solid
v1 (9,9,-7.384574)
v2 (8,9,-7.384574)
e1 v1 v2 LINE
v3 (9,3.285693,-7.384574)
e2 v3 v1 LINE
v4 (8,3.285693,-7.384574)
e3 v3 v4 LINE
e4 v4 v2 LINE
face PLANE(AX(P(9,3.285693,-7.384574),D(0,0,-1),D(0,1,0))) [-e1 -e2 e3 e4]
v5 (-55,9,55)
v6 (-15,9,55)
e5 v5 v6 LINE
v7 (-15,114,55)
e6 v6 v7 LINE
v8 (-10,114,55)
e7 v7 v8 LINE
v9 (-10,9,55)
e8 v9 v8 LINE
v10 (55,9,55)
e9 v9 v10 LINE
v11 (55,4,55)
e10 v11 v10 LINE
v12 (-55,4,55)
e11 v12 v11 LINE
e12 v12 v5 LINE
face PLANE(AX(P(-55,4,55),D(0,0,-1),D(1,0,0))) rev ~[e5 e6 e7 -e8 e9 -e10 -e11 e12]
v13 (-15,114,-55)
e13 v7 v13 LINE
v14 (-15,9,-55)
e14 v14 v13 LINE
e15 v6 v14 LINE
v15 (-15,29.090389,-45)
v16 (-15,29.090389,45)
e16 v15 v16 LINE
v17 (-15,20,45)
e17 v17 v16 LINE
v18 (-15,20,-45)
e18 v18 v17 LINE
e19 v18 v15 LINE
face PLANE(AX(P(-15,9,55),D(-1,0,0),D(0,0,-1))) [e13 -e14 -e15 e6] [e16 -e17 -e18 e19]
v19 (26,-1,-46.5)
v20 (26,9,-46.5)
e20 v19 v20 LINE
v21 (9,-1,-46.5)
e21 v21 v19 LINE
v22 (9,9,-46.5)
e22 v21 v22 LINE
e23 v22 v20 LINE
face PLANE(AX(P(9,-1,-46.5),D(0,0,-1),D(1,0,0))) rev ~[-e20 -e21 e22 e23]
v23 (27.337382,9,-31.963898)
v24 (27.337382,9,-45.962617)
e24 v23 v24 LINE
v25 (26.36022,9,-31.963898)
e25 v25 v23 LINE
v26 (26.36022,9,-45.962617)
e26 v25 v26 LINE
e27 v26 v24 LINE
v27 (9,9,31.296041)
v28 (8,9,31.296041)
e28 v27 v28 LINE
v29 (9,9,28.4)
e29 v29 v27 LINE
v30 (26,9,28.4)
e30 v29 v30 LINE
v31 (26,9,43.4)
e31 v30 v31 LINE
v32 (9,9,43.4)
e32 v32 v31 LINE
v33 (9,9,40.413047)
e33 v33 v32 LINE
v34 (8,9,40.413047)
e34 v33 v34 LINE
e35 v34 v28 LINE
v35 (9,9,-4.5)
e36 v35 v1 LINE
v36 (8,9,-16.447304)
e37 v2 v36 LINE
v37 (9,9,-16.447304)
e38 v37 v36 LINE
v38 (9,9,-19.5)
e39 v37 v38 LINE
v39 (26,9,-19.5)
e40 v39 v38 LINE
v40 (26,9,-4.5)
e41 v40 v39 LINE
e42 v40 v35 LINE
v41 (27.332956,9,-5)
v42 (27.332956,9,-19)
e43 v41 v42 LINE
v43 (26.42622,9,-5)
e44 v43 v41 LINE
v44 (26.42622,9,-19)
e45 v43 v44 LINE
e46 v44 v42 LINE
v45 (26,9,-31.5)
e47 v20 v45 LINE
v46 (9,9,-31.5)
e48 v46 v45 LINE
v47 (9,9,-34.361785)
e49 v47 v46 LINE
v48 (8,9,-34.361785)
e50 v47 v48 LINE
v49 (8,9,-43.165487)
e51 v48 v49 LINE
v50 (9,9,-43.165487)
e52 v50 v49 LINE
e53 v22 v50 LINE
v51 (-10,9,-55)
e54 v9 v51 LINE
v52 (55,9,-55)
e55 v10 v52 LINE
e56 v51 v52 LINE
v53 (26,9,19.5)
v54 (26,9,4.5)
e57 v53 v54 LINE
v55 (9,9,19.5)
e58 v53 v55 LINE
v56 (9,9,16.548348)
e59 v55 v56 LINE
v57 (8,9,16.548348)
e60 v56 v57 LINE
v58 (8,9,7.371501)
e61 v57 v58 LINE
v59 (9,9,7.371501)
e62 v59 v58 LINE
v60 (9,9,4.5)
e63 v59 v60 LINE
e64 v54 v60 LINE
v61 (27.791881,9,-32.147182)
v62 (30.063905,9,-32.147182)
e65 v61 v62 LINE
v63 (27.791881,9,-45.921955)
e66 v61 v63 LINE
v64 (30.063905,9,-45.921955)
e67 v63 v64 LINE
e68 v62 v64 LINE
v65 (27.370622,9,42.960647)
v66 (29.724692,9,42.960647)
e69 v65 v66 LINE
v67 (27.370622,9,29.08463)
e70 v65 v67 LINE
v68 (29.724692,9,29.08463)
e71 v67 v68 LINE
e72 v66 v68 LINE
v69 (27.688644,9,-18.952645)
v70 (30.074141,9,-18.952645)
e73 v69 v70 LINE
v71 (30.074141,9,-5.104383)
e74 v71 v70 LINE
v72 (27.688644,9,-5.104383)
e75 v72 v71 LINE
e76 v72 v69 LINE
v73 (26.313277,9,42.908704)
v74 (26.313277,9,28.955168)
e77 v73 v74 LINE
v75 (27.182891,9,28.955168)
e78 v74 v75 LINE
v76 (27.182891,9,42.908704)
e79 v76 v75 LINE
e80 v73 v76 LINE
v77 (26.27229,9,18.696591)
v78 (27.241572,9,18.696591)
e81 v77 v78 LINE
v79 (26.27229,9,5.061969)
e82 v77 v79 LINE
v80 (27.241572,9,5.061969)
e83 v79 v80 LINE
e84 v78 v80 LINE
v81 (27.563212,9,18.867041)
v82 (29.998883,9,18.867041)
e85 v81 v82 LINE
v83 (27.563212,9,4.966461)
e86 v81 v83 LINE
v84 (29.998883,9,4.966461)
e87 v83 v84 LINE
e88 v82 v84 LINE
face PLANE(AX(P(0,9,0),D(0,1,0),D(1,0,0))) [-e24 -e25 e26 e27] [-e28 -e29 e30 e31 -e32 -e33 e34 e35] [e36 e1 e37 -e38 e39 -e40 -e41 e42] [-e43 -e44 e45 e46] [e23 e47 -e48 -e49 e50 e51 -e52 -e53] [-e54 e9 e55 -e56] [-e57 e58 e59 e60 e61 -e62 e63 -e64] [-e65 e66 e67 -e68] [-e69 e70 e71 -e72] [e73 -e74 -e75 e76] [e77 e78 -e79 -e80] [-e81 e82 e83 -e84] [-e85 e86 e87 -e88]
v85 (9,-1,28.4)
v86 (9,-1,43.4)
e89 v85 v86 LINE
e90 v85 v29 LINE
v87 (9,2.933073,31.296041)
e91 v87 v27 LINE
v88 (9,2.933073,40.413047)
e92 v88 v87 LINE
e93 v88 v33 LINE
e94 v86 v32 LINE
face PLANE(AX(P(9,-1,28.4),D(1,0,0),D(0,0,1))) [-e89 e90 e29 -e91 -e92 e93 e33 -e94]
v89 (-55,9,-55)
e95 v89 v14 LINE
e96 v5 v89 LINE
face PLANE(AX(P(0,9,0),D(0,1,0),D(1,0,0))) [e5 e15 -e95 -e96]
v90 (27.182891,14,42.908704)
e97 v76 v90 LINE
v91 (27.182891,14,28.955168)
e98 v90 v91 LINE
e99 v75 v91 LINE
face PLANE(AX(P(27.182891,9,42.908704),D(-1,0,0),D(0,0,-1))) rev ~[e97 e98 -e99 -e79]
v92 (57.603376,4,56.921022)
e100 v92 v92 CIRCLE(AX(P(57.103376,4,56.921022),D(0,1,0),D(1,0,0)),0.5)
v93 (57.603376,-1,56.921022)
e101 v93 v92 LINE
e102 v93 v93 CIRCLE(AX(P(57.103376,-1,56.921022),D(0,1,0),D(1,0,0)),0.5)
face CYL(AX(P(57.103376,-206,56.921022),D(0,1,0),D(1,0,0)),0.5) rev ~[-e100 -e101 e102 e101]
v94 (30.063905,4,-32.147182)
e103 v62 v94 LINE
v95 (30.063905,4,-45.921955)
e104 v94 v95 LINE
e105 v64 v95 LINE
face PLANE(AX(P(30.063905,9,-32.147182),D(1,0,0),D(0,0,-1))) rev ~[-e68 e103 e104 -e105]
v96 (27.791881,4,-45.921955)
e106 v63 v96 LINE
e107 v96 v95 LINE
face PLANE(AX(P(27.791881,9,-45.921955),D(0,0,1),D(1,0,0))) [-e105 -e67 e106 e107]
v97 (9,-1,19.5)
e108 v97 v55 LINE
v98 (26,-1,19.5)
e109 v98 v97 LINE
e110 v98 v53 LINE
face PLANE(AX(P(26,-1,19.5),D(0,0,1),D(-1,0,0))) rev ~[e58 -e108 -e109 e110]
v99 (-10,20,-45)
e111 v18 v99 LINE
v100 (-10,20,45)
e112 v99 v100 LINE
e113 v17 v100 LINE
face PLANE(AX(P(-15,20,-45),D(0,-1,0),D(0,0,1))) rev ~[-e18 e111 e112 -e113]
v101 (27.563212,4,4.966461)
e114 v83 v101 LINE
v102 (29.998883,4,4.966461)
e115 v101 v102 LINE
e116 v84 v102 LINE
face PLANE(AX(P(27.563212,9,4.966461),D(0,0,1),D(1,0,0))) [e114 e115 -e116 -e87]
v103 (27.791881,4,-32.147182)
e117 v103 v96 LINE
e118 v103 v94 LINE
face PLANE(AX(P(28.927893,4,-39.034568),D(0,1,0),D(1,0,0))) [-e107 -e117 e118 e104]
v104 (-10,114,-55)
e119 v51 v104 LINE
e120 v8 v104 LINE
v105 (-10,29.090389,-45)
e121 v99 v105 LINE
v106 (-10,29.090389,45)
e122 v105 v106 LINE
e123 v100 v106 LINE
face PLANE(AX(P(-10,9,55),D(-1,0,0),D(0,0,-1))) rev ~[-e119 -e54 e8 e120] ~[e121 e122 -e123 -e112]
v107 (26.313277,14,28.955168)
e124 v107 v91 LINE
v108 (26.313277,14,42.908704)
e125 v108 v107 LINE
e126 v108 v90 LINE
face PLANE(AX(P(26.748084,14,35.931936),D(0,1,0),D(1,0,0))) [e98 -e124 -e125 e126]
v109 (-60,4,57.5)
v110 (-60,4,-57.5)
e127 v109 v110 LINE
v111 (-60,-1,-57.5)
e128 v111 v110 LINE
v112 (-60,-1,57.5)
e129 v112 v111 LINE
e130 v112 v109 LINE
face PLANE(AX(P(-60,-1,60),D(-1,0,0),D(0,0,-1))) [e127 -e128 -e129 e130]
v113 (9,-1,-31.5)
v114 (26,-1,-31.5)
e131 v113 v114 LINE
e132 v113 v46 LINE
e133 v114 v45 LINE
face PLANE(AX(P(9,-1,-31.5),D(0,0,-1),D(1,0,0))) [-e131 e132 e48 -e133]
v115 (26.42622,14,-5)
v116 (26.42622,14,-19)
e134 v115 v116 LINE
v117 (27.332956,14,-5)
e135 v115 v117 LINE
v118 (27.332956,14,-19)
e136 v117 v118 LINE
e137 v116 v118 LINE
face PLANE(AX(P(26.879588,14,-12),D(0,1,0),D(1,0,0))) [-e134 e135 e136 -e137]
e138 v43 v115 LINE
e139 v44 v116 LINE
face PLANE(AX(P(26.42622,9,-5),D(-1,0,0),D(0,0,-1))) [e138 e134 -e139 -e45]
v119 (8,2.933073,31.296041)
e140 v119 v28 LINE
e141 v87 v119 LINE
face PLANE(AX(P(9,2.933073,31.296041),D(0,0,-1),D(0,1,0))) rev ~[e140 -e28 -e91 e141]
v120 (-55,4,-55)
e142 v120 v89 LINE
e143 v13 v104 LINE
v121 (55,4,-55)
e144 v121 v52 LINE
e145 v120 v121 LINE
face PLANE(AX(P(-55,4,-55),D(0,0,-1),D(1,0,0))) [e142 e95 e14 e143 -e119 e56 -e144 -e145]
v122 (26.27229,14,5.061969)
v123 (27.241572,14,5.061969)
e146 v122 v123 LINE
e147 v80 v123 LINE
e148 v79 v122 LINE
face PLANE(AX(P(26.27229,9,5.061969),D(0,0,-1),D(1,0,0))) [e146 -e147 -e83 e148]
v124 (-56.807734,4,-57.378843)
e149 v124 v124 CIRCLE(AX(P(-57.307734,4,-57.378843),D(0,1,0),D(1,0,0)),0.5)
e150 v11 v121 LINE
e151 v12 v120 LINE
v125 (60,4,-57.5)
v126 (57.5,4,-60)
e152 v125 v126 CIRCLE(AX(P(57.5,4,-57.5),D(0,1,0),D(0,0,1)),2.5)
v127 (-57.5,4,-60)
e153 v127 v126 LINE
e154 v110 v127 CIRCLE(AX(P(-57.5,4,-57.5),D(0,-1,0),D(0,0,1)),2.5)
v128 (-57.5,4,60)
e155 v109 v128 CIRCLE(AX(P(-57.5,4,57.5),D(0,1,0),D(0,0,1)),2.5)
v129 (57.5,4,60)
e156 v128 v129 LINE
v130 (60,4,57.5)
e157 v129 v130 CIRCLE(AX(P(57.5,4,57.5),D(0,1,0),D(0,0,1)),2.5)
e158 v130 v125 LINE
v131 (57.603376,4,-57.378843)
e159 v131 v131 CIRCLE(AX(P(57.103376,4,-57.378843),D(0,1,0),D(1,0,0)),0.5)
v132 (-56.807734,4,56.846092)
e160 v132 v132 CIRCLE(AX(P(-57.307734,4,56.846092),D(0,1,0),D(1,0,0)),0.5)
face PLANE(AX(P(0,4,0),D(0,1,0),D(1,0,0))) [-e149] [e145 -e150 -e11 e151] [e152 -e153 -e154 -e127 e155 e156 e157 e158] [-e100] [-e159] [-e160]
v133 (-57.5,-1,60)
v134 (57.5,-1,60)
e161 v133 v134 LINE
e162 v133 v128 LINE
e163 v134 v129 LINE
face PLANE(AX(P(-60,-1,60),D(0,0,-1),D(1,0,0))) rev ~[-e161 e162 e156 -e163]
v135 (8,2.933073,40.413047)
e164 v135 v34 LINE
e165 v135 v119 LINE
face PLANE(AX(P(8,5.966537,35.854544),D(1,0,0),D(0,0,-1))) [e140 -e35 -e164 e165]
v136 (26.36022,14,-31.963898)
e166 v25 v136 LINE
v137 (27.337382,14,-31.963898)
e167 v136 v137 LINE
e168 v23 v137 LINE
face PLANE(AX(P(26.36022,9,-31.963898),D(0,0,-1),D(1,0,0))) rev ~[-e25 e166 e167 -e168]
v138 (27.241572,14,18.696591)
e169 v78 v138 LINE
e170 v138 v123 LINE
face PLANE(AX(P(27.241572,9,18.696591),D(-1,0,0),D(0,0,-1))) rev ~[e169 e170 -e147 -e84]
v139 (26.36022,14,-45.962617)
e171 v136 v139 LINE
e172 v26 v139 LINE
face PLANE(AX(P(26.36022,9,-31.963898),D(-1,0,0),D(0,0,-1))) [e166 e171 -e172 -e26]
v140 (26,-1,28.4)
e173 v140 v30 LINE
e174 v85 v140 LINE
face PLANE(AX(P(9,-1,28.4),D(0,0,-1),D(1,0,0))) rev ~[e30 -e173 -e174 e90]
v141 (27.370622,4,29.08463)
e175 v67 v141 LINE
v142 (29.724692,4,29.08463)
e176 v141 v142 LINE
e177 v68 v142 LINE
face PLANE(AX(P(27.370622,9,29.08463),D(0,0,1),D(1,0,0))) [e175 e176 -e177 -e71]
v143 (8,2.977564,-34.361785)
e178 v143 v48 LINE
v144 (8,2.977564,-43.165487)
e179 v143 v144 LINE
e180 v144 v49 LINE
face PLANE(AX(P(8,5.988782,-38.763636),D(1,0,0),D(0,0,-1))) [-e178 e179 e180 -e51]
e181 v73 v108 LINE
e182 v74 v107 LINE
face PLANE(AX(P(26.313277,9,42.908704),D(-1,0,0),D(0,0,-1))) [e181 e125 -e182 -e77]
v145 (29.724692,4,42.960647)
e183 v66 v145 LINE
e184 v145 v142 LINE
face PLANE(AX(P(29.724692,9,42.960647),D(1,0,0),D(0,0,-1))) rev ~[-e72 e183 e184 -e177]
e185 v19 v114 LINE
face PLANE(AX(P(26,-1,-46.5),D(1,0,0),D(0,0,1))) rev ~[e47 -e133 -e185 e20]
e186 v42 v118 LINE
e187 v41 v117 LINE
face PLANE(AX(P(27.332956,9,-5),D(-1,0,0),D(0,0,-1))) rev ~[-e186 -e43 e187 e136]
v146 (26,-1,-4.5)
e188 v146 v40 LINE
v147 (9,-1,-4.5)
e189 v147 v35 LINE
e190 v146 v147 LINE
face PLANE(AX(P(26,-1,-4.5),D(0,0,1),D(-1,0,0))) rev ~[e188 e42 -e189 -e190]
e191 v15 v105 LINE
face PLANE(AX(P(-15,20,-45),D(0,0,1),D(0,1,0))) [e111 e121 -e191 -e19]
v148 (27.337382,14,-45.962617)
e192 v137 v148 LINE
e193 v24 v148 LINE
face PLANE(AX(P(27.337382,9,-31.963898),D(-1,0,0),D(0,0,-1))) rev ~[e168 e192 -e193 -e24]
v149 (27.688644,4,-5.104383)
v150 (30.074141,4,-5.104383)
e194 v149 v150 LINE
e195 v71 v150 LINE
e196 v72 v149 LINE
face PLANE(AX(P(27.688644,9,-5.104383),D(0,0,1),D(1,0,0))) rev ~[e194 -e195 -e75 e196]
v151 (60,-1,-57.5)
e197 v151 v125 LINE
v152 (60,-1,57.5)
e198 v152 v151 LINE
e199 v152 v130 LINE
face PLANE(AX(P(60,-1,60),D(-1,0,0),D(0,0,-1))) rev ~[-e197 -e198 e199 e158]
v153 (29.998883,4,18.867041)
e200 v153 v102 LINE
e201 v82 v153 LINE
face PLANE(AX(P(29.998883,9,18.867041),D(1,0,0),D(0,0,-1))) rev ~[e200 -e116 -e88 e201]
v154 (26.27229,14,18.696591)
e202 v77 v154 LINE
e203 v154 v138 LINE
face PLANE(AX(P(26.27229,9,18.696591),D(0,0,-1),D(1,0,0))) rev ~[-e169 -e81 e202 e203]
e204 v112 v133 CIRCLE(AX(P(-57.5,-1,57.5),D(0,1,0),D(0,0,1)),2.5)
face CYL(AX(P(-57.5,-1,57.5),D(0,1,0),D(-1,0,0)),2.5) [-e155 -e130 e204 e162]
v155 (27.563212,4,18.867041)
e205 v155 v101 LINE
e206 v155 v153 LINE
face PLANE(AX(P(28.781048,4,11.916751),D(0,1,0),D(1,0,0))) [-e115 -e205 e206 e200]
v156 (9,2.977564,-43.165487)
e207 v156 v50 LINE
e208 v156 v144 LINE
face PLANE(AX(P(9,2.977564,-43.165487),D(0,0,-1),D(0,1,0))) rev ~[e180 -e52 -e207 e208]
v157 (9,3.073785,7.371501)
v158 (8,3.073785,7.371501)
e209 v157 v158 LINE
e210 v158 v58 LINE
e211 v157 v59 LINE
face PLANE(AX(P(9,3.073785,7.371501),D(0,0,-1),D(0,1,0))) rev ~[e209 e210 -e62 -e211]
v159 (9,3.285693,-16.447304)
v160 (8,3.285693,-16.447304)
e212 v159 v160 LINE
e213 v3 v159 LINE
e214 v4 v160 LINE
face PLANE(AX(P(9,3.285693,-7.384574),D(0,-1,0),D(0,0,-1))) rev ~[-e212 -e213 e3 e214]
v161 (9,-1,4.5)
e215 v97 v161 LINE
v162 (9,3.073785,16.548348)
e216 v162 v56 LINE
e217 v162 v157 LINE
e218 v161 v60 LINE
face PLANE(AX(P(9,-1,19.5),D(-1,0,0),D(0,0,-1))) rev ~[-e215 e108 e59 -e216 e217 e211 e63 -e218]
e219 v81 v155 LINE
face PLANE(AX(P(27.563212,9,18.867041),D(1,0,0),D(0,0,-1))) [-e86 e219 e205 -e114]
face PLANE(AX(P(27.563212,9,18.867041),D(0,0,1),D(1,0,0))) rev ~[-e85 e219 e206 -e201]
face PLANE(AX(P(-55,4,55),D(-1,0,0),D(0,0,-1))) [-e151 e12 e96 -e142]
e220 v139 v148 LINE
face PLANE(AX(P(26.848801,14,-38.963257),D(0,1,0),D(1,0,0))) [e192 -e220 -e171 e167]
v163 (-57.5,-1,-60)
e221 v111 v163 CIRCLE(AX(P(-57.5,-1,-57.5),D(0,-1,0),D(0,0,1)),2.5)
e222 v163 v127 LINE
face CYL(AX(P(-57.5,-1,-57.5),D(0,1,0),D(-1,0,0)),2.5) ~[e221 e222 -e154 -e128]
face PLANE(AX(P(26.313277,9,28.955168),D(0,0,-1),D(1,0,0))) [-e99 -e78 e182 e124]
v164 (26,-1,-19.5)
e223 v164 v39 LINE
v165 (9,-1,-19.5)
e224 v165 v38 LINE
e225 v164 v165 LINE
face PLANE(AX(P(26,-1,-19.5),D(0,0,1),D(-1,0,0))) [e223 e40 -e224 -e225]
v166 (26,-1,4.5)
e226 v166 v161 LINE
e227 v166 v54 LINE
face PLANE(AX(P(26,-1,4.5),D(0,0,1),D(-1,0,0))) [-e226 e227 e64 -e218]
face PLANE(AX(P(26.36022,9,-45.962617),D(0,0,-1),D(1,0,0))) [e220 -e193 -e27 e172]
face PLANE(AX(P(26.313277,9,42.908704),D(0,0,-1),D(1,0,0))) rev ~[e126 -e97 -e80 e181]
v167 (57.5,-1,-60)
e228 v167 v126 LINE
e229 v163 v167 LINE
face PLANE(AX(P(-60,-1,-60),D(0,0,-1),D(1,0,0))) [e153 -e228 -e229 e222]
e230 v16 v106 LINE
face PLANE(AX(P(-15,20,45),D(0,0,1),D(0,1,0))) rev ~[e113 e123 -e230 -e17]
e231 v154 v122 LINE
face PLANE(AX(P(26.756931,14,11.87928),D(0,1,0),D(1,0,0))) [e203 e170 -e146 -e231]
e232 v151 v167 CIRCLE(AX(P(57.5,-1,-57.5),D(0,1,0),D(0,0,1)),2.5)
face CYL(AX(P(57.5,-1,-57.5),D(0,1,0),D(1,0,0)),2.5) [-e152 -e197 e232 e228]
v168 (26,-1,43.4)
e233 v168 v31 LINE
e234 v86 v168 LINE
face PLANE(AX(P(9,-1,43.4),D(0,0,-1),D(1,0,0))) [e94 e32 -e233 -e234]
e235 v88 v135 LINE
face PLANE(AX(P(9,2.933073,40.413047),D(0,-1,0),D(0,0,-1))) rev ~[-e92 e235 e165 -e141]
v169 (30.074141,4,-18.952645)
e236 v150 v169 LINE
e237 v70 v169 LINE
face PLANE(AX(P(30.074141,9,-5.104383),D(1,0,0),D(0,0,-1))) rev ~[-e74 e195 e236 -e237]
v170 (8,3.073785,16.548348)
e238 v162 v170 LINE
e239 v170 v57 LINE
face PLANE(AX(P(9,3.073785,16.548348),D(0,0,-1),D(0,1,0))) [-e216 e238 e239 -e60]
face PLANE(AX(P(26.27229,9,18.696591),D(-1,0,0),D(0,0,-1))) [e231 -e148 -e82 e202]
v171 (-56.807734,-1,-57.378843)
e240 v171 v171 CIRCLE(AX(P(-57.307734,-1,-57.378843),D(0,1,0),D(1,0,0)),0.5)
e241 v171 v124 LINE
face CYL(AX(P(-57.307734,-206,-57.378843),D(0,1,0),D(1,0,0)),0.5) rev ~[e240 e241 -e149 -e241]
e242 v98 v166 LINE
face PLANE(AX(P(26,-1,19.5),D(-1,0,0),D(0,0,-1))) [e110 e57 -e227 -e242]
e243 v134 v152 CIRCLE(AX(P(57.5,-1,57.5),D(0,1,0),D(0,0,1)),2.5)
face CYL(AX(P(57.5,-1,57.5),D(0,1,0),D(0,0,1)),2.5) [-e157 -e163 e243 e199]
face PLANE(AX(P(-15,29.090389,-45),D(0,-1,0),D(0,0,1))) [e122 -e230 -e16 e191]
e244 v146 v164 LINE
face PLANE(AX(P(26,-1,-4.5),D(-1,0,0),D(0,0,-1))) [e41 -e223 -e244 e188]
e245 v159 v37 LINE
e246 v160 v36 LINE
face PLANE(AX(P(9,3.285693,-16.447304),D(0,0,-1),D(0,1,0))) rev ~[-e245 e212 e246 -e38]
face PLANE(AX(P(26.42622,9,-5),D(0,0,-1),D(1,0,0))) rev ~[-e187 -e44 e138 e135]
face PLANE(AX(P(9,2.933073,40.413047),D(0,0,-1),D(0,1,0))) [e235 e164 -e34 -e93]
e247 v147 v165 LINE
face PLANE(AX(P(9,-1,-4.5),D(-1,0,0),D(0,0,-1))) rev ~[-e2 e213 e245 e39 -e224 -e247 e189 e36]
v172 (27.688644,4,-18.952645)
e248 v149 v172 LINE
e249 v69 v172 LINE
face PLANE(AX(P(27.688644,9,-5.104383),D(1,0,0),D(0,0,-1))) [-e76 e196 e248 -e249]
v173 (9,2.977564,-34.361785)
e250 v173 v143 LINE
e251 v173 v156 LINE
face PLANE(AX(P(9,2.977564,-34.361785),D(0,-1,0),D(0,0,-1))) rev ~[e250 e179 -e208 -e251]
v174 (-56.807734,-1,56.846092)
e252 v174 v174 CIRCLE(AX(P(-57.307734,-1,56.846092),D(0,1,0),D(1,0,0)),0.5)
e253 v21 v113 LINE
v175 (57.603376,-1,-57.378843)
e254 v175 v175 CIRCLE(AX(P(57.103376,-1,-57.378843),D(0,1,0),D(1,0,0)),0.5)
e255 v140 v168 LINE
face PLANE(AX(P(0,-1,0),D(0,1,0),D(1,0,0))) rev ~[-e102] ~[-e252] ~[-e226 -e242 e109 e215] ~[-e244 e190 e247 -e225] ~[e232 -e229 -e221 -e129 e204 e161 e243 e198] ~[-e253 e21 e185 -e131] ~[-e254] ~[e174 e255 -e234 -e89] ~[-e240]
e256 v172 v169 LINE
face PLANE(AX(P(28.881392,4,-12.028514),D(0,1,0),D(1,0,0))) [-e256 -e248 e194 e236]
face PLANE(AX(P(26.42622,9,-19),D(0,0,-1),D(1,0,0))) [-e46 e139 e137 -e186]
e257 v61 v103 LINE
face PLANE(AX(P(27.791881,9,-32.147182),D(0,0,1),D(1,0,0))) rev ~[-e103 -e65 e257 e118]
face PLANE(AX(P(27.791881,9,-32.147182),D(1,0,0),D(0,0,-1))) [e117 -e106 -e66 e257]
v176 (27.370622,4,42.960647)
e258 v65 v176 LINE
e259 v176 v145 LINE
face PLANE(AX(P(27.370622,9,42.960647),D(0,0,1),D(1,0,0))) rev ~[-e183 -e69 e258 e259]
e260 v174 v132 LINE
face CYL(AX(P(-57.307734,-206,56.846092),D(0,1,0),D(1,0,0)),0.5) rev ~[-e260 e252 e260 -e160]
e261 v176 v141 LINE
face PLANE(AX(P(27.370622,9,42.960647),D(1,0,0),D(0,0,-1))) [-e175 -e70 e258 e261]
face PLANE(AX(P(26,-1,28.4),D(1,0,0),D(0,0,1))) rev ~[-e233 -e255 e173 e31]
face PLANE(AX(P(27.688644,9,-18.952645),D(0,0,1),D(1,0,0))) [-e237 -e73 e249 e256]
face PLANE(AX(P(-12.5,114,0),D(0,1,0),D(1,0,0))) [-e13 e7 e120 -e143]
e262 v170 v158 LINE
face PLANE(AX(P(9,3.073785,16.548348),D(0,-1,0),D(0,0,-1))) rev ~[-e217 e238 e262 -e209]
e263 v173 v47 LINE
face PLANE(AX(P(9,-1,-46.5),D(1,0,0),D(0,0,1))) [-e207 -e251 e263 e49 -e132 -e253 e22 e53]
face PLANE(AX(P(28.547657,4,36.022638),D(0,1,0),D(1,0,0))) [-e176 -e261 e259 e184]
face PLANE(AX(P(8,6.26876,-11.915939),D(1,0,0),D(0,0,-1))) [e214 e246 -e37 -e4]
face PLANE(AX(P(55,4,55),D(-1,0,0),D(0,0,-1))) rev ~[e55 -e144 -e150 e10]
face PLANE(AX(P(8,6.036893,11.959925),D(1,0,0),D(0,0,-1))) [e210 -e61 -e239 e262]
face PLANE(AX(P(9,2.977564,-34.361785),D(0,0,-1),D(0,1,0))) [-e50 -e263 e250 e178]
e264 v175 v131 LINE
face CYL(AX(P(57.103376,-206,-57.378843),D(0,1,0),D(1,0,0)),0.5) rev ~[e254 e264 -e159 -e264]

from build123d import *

# Parameters (mm, degrees)
BOSS_EXTRUDE1_DEPTH          = 4
BOSS_EXTRUDE1_DEPTH_BACK     = 1
SKETCH1_W                    = 120
SKETCH1_H                    = 120
FILLET1_R                    = 2.5
SKETCH34_W                   = 110
SKETCH34_H                   = 110
BOSS_EXTRUDE4_DEPTH          = 5
SKETCH35_W                   = 5
SKETCH35_H                   = 110
BOSS_EXTRUDE5_DEPTH          = 105
SKETCH36_W                   = 90
SKETCH36_H                   = 9.090388829
CUT_EXTRUDE17_DEPTH          = 5
F_97_0_0059_DIAMETER_HOLE2_D = 0.14986
F_1_0MM_DOWEL_HOLE1_D        = 1
SKETCH46_W                   = 17
SKETCH46_H                   = 15
CUT_EXTRUDE23_DEPTH          = 10
SKETCH50_W                   = 17
SKETCH50_H                   = 15
CUT_EXTRUDE24_DEPTH          = 10
SKETCH51_W                   = 17
SKETCH51_H                   = 15
CUT_EXTRUDE25_DEPTH          = 10
SKETCH52_W                   = 17
SKETCH52_H                   = 15
CUT_EXTRUDE26_DEPTH          = 10
SKETCH53_W                   = 0.977162156
SKETCH53_H                   = 13.998719243
BOSS_EXTRUDE6_DEPTH          = 5
SKETCH55_W                   = 2.272024092
SKETCH55_H                   = 13.774773728
CUT_EXTRUDE27_DEPTH          = 5
SKETCH56_W                   = 0.906735868
SKETCH56_H                   = 14
BOSS_EXTRUDE7_DEPTH          = 5
SKETCH57_W                   = 2.385496373
SKETCH57_H                   = 13.848261841
CUT_EXTRUDE28_DEPTH          = 5
SKETCH58_W                   = 0.96928262
SKETCH58_H                   = 13.634621905
BOSS_EXTRUDE8_DEPTH          = 5
SKETCH59_W                   = 2.435671648
SKETCH59_H                   = 13.900580395
CUT_EXTRUDE29_DEPTH          = 5
SKETCH60_W                   = 0.869613575
SKETCH60_H                   = 13.953535455
BOSS_EXTRUDE10_DEPTH         = 5
SKETCH62_W                   = 2.354070132
SKETCH62_H                   = 13.876017007
CUT_EXTRUDE30_DEPTH          = 5
SKETCH63_W                   = 9.117005695
SKETCH63_H                   = 6.066926996
CUT_EXTRUDE33_DEPTH          = 1
SKETCH64_W                   = 9.176846486
SKETCH64_H                   = 5.926214746
CUT_EXTRUDE34_DEPTH          = 1
SKETCH65_W                   = 9.062729826
SKETCH65_H                   = 5.966132982
CUT_EXTRUDE35_DEPTH          = 1
SKETCH67_W                   = 8.803701295
SKETCH67_H                   = 6.022435514
CUT_EXTRUDE36_DEPTH          = 1


with BuildPart() as part:
    # Sketch1 → Boss-Extrude1 (new, two sides: drawn at the far end of the back side and taken through both)
    with BuildSketch(Plane(origin=(0, 0, 0), x_dir=(1, 0, 0), z_dir=(0, 1, 0)).offset(-BOSS_EXTRUDE1_DEPTH_BACK)):
        Rectangle(SKETCH1_W, SKETCH1_H)
    extrude(amount=BOSS_EXTRUDE1_DEPTH + BOSS_EXTRUDE1_DEPTH_BACK)

    # Fillet1
    fillet1_edges = [part.edges().sort_by_distance(p)[0] for p in [
        (-60, 1.5, -60),
        (60, 1.5, -60),
        (60, 1.5, 60),
        (-60, 1.5, 60),
    ]]
    fillet(fillet1_edges, radius=FILLET1_R)

    # Sketch34 → Boss-Extrude4 (add)
    with BuildSketch(Plane(origin=(0, 4, 0), x_dir=(1, 0, 0), z_dir=(0, 1, 0))):
        Rectangle(SKETCH34_W, SKETCH34_H)
    extrude(amount=BOSS_EXTRUDE4_DEPTH)

    # Sketch35 → Boss-Extrude5 (add)
    with BuildSketch(Plane(origin=(0, 9, 0), x_dir=(1, 0, 0), z_dir=(0, 1, 0))):
        with Locations((-12.5, 0)):
            Rectangle(SKETCH35_W, SKETCH35_H)
    extrude(amount=BOSS_EXTRUDE5_DEPTH)

    # Sketch36 → Cut-Extrude17 (cut)
    with BuildSketch(Plane(origin=(-15, 5, 0), x_dir=(0, 0, 1), z_dir=(-1, 0, 0))):
        with Locations((0, 19.545194415)):
            Rectangle(SKETCH36_W, SKETCH36_H)
    extrude(amount=-CUT_EXTRUDE17_DEPTH, mode=Mode.SUBTRACT)

    # 97 _0.0059_ Diameter Hole2 (through all)
    with Locations(Plane(origin=(0, -1, 0), x_dir=(-1, 0, 0), z_dir=(0, -1, 0))):
        with Locations((57.307733748, 57.378842828), (-57.10337646, 57.378842828), (-57.10337646, -56.921022458), (57.307733748, -56.921022458)):
            Hole(F_97_0_0059_DIAMETER_HOLE2_D / 2)

    # 1.0mm Dowel Hole1 (through all)
    with Locations(Plane(origin=(0, -1, 0), x_dir=(-1, 0, 0), z_dir=(0, -1, 0))):
        with Locations((57.307733748, -56.846092458), (-57.10337646, -56.921022458), (-57.10337646, 57.378842828), (57.307733748, 57.378842828)):
            Hole(F_1_0MM_DOWEL_HOLE1_D / 2)

    # Sketch46 → Cut-Extrude23 (cut)
    with BuildSketch(Plane(origin=(0, -1, 4), x_dir=(1, 0, 0), z_dir=(0, -1, 0))):
        with Locations((17.5, 31.9)):
            Rectangle(SKETCH46_W, SKETCH46_H)
    extrude(amount=-CUT_EXTRUDE23_DEPTH, mode=Mode.SUBTRACT)

    # Sketch50 → Cut-Extrude24 (cut)
    with BuildSketch(Plane(origin=(0, -1, 5), x_dir=(-1, 0, 0), z_dir=(0, -1, 0))):
        with Locations((-17.5, -7)):
            Rectangle(SKETCH50_W, SKETCH50_H)
    extrude(amount=-CUT_EXTRUDE24_DEPTH, mode=Mode.SUBTRACT)

    # Sketch51 → Cut-Extrude25 (cut)
    with BuildSketch(Plane(origin=(0, -1, 6), x_dir=(-1, 0, 0), z_dir=(0, -1, 0))):
        with Locations((-17.5, 18)):
            Rectangle(SKETCH51_W, SKETCH51_H)
    extrude(amount=-CUT_EXTRUDE25_DEPTH, mode=Mode.SUBTRACT)

    # Sketch52 → Cut-Extrude26 (cut)
    with BuildSketch(Plane(origin=(0, -1, 4), x_dir=(1, 0, 0), z_dir=(0, -1, 0))):
        with Locations((17.5, -43)):
            Rectangle(SKETCH52_W, SKETCH52_H)
    extrude(amount=-CUT_EXTRUDE26_DEPTH, mode=Mode.SUBTRACT)

    # Sketch53 → Boss-Extrude6 (add)
    with BuildSketch(Plane(origin=(-2.93050065, 9, 0.122093772), x_dir=(1, 0, 0), z_dir=(0, 1, 0))):
        with Locations((29.779301797, 39.085351217)):
            Rectangle(SKETCH53_W, SKETCH53_H)
    extrude(amount=BOSS_EXTRUDE6_DEPTH)

    # Sketch55 → Cut-Extrude27 (cut)
    with BuildSketch(Plane(origin=(-2.539176839, 9, 0.049591215), x_dir=(1, 0, 0), z_dir=(0, 1, 0))):
        with Locations((31.467069737, 39.084159637)):
            Rectangle(SKETCH55_W, SKETCH55_H)
    extrude(amount=-CUT_EXTRUDE27_DEPTH, mode=Mode.SUBTRACT)

    # Sketch56 → Boss-Extrude7 (add)
    with BuildSketch(Plane(origin=(-2.001675953, 9, 0), x_dir=(1, 0, 0), z_dir=(0, 1, 0))):
        with Locations((28.881264054, 12)):
            Rectangle(SKETCH56_W, SKETCH56_H)
    extrude(amount=BOSS_EXTRUDE7_DEPTH)

    # Sketch57 → Cut-Extrude28 (cut)
    with BuildSketch(Plane(origin=(-2.324919513, 9, 0), x_dir=(1, 0, 0), z_dir=(0, 1, 0))):
        with Locations((31.20631194, 12.028513798)):
            Rectangle(SKETCH57_W, SKETCH57_H)
    extrude(amount=-CUT_EXTRUDE28_DEPTH, mode=Mode.SUBTRACT)

    # Sketch58 → Boss-Extrude8 (add)
    with BuildSketch(Plane(origin=(-1.839703038, 9, 0), x_dir=(1, 0, 0), z_dir=(0, 1, 0))):
        with Locations((28.596634058, -11.879280286)):
            Rectangle(SKETCH58_W, SKETCH58_H)
    extrude(amount=BOSS_EXTRUDE8_DEPTH)

    # Sketch59 → Cut-Extrude29 (cut)
    with BuildSketch(Plane(origin=(-2.765819175, 9, 0), x_dir=(1, 0, 0), z_dir=(0, 1, 0))):
        with Locations((31.546866825, -11.916750925)):
            Rectangle(SKETCH59_W, SKETCH59_H)
    extrude(amount=-CUT_EXTRUDE29_DEPTH, mode=Mode.SUBTRACT)

    # Sketch60 → Boss-Extrude10 (add)
    with BuildSketch(Plane(origin=(-1.803689022, 9, -0.186210488), x_dir=(1, 0, 0), z_dir=(0, 1, 0))):
        with Locations((28.551773242, -36.1181464)):
            Rectangle(SKETCH60_W, SKETCH60_H)
    extrude(amount=BOSS_EXTRUDE10_DEPTH)

    # Sketch62 → Cut-Extrude30 (cut)
    with BuildSketch(Plane(origin=(-2.856074078, 9, -0.042608941), x_dir=(1, 0, 0), z_dir=(0, 1, 0))):
        with Locations((31.403731497, -36.065246957)):
            Rectangle(SKETCH62_W, SKETCH62_H)
    extrude(amount=-CUT_EXTRUDE30_DEPTH, mode=Mode.SUBTRACT)

    # Sketch63 → Cut-Extrude33 (cut)
    with BuildSketch(Plane(origin=(9, 0, 0), x_dir=(0, 0, -1), z_dir=(1, 0, 0))):
        with Locations((-35.854544031, 5.966536502)):
            Rectangle(SKETCH63_W, SKETCH63_H)
    extrude(amount=-CUT_EXTRUDE33_DEPTH, mode=Mode.SUBTRACT)

    # Sketch64 → Cut-Extrude34 (cut)
    with BuildSketch(Plane(origin=(9, 0, 0), x_dir=(0, 0, -1), z_dir=(1, 0, 0))):
        with Locations((-11.959924601, 6.036892627)):
            Rectangle(SKETCH64_W, SKETCH64_H)
    extrude(amount=-CUT_EXTRUDE34_DEPTH, mode=Mode.SUBTRACT)

    # Sketch65 → Cut-Extrude35 (cut)
    with BuildSketch(Plane(origin=(9, 0.251826278, 0.170802287), x_dir=(0, 0, -1), z_dir=(1, 0, 0))):
        with Locations((12.086740933, 6.016933509)):
            Rectangle(SKETCH65_W, SKETCH65_H)
    extrude(amount=-CUT_EXTRUDE35_DEPTH, mode=Mode.SUBTRACT)

    # Sketch67 → Cut-Extrude36 (cut)
    with BuildSketch(Plane(origin=(9, 0, 0), x_dir=(0, 0, -1), z_dir=(1, 0, 0))):
        with Locations((38.763636035, 5.988782243)):
            Rectangle(SKETCH67_W, SKETCH67_H)
    extrude(amount=-CUT_EXTRUDE36_DEPTH, mode=Mode.SUBTRACT)


solid = part.part
